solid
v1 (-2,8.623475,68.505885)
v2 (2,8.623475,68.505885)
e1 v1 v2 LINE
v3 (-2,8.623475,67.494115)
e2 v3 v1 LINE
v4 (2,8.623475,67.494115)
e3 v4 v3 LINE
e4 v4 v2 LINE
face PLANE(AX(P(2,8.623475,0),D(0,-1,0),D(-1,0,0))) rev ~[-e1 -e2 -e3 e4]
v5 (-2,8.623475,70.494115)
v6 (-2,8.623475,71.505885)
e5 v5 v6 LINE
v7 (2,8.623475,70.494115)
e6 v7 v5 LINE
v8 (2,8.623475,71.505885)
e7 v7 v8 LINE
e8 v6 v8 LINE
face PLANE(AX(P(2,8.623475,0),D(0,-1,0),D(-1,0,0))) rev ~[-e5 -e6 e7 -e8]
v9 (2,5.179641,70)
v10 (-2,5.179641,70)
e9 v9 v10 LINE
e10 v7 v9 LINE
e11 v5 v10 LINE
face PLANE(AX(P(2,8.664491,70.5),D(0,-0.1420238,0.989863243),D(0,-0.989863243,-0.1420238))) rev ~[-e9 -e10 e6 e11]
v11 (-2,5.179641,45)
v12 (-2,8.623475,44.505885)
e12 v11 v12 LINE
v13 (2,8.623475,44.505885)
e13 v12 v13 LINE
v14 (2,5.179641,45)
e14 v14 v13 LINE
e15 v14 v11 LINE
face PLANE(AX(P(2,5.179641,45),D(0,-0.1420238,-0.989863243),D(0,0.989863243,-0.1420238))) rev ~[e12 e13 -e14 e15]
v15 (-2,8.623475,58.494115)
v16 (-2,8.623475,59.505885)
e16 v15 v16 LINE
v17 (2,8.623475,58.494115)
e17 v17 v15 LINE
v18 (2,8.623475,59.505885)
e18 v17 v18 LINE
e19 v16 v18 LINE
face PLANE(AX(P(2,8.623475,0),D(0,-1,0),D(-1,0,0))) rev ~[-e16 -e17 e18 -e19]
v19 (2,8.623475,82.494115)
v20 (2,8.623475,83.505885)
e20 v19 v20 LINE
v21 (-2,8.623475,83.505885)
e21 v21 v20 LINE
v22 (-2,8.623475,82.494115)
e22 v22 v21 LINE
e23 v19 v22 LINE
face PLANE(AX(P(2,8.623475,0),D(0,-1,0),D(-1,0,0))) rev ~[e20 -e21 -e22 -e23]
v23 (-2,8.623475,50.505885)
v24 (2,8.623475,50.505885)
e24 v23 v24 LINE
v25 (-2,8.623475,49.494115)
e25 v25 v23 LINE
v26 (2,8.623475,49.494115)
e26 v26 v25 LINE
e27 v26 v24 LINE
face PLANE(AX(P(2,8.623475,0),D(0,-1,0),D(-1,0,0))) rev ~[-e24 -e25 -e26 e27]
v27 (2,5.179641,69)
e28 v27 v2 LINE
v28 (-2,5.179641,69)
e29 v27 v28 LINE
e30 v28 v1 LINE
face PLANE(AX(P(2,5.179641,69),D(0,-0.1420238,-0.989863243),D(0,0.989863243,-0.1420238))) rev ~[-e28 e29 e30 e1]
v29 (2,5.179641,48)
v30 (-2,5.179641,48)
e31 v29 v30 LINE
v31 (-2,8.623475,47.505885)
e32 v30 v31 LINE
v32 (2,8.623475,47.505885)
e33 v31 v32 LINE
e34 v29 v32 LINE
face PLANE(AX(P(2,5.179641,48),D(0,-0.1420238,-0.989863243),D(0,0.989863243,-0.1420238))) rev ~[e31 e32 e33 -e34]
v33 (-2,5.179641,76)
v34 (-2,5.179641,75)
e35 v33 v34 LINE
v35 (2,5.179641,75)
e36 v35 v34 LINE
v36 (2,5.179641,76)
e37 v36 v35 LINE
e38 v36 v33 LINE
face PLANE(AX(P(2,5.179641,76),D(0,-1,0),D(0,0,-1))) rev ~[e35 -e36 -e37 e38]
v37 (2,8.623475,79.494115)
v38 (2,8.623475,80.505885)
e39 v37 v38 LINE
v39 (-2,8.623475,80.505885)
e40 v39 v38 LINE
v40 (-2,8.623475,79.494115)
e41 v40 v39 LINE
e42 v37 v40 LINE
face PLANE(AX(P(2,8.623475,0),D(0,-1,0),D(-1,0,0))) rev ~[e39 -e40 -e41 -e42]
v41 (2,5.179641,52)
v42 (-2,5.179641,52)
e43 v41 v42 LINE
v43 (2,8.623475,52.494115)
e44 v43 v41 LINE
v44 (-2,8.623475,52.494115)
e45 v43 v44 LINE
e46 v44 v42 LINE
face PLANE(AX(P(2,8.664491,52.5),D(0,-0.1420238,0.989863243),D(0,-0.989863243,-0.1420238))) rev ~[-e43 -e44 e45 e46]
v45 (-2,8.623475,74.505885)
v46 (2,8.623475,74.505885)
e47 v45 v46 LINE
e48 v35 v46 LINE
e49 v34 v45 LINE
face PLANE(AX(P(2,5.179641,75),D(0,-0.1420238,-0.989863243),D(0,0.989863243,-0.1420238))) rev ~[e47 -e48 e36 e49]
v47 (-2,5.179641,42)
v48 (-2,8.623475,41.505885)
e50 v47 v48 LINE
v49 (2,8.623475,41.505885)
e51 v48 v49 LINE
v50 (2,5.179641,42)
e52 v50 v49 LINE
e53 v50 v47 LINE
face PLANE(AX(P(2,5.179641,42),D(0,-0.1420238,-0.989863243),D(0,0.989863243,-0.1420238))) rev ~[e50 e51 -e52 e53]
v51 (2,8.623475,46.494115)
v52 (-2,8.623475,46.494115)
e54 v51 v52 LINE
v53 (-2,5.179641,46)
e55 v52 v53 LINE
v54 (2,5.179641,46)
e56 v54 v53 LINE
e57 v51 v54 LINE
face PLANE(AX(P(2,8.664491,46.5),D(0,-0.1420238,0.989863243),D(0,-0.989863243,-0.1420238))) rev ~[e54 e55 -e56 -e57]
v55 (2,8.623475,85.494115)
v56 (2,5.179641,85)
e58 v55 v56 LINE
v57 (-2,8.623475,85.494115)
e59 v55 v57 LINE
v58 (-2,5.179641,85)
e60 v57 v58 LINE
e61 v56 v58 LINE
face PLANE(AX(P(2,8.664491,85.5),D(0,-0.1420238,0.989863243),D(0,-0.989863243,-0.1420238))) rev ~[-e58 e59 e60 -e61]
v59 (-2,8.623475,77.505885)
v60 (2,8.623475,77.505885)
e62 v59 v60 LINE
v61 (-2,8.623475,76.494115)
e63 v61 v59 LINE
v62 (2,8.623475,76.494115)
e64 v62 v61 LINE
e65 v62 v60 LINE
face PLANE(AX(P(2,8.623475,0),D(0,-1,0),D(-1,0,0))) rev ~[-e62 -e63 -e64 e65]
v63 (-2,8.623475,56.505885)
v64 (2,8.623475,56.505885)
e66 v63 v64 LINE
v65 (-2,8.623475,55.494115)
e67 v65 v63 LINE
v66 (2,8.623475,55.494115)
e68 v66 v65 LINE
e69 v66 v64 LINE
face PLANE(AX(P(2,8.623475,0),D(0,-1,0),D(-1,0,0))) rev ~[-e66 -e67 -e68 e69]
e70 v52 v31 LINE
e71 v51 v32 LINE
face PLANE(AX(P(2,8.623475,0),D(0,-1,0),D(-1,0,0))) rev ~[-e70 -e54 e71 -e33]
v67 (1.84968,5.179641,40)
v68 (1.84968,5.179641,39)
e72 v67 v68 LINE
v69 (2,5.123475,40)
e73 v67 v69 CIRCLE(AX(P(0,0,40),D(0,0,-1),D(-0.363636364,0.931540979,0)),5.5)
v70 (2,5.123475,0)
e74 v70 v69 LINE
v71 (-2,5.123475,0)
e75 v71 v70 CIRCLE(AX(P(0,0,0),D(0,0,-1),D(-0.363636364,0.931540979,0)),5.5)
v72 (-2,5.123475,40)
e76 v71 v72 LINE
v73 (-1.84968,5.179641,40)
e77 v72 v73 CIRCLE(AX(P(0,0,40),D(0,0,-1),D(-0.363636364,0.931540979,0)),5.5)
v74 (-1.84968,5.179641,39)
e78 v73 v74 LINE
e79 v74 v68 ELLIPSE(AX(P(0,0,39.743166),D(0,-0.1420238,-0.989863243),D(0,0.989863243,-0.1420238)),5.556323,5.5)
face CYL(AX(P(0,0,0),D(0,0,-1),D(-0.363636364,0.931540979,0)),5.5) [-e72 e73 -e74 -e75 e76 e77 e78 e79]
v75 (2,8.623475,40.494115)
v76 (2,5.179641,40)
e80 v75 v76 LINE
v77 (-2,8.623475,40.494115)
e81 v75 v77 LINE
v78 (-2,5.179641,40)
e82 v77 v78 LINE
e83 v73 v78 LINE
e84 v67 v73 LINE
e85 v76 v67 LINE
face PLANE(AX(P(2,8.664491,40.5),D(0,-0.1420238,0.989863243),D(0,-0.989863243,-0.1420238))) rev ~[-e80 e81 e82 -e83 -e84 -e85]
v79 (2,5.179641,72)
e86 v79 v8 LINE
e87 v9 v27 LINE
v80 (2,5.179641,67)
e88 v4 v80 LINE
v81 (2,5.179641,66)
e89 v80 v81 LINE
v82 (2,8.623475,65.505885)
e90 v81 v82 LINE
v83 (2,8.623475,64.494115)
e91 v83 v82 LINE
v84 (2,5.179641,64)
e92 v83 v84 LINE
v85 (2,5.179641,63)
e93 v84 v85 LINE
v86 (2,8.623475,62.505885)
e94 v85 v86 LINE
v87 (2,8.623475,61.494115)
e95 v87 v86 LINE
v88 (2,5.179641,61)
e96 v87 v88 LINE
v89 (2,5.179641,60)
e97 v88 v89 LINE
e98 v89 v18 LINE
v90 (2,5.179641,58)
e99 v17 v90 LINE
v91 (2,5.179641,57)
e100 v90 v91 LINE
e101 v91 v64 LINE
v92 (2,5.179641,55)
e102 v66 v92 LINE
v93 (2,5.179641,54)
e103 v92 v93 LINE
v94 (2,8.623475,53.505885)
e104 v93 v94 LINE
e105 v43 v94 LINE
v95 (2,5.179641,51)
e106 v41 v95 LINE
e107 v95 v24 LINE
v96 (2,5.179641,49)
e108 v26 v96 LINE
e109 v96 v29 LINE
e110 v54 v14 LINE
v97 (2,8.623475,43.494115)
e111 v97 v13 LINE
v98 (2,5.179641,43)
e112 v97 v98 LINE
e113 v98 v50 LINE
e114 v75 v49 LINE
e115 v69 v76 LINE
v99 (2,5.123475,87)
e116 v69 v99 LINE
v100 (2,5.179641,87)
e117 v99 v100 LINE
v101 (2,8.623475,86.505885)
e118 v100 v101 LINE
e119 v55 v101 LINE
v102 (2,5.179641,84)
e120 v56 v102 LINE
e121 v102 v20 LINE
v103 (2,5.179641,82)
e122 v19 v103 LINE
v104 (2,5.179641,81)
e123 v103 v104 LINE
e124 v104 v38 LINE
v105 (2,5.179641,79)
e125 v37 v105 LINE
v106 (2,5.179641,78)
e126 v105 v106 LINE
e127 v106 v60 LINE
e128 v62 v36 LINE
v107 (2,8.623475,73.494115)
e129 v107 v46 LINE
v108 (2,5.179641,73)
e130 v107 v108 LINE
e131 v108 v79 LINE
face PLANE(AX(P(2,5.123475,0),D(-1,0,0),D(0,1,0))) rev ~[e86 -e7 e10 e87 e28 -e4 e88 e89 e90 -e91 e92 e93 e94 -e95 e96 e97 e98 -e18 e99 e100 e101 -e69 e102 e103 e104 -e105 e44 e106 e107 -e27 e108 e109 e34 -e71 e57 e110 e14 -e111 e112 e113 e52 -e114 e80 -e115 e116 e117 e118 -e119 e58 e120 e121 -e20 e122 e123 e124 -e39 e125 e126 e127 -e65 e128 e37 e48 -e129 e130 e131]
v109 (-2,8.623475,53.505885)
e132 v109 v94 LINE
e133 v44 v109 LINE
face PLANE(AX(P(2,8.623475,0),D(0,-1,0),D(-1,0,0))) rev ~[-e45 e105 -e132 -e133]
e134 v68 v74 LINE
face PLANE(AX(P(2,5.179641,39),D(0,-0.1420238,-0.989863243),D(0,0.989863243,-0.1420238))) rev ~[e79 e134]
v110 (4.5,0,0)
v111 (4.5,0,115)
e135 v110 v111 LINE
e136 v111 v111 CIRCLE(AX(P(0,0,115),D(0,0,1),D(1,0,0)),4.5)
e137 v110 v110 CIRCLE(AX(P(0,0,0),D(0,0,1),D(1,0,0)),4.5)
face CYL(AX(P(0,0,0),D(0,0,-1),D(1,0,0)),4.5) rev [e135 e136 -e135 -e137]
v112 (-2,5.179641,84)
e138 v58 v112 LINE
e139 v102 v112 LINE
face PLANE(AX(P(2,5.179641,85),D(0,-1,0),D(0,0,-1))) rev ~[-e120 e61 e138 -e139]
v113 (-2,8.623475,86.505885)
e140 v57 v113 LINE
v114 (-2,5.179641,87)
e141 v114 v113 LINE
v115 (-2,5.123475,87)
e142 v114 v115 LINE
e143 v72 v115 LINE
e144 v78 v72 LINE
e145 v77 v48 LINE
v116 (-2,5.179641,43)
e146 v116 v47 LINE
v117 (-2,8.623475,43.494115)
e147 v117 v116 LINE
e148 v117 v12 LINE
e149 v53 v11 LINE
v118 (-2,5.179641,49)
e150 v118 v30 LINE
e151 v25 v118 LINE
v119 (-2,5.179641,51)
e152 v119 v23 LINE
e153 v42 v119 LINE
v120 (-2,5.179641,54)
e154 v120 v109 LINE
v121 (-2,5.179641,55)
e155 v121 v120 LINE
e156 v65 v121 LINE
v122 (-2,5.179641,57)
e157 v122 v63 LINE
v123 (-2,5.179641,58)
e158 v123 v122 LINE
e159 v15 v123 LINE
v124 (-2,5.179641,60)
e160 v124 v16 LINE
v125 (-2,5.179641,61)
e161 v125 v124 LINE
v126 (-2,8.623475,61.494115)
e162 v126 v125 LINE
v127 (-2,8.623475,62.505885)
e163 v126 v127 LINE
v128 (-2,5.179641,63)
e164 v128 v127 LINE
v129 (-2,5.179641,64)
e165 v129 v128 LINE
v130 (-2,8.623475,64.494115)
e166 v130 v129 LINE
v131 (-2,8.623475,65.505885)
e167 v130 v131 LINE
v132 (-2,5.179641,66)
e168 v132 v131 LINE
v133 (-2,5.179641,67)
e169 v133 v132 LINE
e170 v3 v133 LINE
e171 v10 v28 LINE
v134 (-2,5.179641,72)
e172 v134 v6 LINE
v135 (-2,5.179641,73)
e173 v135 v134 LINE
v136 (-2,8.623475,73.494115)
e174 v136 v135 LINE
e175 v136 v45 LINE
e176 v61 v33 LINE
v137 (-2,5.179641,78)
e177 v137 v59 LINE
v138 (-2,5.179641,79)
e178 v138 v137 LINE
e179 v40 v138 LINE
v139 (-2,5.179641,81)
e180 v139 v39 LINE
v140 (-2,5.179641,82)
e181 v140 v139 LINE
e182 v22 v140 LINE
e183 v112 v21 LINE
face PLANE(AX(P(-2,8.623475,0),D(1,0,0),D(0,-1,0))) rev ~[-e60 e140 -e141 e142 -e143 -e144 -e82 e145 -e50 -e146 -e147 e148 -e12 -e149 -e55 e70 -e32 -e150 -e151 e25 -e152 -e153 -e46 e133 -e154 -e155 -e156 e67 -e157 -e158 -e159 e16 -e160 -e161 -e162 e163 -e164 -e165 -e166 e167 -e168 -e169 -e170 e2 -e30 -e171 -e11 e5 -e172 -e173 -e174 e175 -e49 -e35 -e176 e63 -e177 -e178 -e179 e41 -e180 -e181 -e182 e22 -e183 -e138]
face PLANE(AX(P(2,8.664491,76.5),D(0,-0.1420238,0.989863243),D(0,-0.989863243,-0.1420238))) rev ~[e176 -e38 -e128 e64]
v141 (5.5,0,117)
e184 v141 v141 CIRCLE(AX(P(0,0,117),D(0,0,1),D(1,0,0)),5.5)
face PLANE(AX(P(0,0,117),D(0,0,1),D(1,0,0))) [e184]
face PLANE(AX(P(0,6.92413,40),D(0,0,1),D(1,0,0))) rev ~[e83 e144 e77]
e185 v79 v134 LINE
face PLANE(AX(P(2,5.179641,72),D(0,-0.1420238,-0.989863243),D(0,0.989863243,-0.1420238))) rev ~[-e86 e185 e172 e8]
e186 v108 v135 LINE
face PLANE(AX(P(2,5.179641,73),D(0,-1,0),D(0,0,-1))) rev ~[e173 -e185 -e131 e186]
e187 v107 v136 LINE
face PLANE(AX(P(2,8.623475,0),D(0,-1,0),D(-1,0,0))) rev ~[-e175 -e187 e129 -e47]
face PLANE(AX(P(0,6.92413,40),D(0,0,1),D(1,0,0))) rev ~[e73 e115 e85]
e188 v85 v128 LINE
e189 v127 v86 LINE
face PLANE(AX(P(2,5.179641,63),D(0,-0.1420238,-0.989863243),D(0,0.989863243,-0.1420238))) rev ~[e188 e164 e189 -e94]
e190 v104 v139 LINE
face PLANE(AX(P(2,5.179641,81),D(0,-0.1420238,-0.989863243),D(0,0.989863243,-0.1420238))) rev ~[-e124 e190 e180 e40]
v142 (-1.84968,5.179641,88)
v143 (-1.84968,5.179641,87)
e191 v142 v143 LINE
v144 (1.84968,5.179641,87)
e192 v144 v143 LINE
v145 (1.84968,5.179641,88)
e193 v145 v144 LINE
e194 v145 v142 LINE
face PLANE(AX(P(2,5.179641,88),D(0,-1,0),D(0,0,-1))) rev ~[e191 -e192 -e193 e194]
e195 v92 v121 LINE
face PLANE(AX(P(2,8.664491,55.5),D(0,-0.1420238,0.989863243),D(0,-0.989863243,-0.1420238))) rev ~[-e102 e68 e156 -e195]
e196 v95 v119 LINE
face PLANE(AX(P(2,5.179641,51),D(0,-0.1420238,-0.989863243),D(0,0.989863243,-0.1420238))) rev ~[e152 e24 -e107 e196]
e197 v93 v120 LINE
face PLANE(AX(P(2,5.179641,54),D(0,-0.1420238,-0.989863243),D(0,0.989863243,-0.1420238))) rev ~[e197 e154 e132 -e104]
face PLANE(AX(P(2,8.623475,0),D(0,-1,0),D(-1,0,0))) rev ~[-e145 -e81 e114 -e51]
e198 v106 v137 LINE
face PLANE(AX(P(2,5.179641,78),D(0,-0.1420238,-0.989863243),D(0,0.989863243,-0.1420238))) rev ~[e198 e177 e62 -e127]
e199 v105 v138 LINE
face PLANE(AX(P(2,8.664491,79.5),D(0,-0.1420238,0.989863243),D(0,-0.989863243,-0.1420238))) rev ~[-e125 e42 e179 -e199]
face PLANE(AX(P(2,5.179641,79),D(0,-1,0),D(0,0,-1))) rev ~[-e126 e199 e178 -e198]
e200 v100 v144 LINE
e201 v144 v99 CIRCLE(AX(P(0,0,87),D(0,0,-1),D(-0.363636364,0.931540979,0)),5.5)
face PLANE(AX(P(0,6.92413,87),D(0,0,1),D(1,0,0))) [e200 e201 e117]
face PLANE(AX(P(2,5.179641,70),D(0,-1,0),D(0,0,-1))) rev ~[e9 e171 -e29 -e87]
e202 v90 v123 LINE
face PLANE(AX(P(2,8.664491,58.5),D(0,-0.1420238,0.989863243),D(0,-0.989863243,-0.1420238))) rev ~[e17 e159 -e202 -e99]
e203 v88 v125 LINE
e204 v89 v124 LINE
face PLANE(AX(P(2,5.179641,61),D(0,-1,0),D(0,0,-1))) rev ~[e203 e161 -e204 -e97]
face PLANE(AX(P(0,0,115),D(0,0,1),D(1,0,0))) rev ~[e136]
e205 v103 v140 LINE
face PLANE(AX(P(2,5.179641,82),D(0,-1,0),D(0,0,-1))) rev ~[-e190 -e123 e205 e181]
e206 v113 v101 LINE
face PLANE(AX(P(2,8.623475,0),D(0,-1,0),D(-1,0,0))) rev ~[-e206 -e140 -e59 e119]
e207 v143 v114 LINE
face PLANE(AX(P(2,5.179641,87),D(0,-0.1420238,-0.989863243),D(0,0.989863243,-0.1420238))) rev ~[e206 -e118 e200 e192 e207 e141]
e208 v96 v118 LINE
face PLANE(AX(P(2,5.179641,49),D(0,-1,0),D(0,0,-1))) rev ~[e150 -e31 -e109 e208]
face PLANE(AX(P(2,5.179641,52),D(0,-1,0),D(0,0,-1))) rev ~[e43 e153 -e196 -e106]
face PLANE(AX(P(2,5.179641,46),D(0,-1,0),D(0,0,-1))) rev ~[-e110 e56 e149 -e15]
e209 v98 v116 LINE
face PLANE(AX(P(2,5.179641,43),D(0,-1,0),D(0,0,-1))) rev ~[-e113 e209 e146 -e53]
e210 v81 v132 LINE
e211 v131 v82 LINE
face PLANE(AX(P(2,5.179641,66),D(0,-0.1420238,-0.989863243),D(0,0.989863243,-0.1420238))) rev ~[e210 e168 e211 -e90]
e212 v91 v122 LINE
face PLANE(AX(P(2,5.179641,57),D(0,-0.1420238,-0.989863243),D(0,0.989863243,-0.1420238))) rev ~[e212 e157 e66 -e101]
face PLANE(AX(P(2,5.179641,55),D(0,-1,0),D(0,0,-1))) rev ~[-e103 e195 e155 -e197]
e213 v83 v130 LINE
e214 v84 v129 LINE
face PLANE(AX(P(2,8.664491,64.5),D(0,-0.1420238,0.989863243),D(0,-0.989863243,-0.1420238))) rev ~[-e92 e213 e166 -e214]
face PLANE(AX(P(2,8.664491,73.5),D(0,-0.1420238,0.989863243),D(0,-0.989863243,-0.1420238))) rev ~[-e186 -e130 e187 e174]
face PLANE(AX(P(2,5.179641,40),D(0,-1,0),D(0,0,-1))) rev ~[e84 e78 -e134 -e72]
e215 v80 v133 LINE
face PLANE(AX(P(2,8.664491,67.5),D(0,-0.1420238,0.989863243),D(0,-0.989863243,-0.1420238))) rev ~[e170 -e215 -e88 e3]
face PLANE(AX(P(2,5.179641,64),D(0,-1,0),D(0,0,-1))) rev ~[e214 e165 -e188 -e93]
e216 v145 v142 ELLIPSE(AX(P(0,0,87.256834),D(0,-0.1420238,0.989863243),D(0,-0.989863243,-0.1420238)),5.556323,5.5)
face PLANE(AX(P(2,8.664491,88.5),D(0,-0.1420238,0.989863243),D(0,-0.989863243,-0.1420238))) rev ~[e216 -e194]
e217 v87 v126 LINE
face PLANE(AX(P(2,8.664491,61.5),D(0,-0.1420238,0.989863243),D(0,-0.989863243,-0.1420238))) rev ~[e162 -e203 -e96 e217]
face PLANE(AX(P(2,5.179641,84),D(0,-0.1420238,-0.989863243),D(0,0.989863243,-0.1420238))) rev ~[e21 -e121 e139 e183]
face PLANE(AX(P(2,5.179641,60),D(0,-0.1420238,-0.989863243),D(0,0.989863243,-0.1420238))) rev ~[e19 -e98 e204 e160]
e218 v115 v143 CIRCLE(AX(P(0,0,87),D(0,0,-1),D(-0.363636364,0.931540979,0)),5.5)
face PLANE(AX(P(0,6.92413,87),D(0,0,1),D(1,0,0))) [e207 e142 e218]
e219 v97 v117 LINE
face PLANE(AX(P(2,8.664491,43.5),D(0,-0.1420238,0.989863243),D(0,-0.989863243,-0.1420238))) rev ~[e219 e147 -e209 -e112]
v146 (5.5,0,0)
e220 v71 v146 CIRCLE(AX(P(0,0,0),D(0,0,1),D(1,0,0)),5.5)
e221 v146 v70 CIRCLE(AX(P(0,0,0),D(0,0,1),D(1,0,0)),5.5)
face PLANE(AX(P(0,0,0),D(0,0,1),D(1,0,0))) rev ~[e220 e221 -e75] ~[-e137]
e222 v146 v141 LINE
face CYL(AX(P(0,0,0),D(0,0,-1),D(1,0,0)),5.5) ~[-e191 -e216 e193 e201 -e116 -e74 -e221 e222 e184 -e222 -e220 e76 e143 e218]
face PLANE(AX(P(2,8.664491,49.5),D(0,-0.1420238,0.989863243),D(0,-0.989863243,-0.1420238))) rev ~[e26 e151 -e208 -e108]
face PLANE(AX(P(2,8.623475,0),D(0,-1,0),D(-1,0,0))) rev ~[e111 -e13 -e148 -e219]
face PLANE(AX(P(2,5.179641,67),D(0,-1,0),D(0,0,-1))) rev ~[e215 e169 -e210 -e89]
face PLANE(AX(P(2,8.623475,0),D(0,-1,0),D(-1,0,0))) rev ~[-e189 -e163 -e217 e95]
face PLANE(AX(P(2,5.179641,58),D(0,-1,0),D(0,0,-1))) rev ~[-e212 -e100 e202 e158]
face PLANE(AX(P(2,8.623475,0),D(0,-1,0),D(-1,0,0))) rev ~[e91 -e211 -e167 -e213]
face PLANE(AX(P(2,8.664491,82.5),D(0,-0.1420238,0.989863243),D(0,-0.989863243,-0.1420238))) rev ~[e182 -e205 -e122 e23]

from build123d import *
from build123d.topology import SkipClean

# Parameters (mm, degrees)
SKETCH1_R           = 5.5
BOSS_EXTRUDE3_DEPTH = 117
SKETCH1_3_R         = 4.5
CUT_EXTRUDE4_DEPTH  = 115
BOSS_EXTRUDE4_DEPTH = 87
CUT_EXTRUDE5_DEPTH  = 40
CUT_EXTRUDE6_DEPTH  = 4


with BuildPart() as part:
    # Sketch1 → Boss-Extrude3 (new body)
    with BuildSketch(Plane.XY):
        Circle(SKETCH1_R)
    extrude(amount=BOSS_EXTRUDE3_DEPTH)

    # Sketch1<3> → Cut-Extrude4 (cut)
    with BuildSketch(Plane.XY):
        Circle(SKETCH1_3_R)
    extrude(amount=CUT_EXTRUDE4_DEPTH, mode=Mode.SUBTRACT)

    # Sketch1<4> → Boss-Extrude4 (add)
    with BuildSketch(Plane.XY):
        with BuildLine():
            Line((2, 8.623475383), (-2, 8.623475383))
            Line((-2, 8.623475383), (-2, 5.123475383))
            ThreePointArc((-2, 5.123475383), (0, 5.5), (2, 5.123475383))
            Line((2, 5.123475383), (2, 8.623475383))
        make_face()
    extrude(amount=BOSS_EXTRUDE4_DEPTH)

    # Sketch1<5> → Cut-Extrude5 (cut)
    with SkipClean():  # the faces are left unmerged after this step: merging them gives an invalid solid
        with BuildSketch(Plane.XY):
            with BuildLine():
                Line((2, 8.623475383), (-2, 8.623475383))
                Line((-2, 8.623475383), (-2, 5.123475383))
                ThreePointArc((-2, 5.123475383), (0, 5.5), (2, 5.123475383))
                Line((2, 5.123475383), (2, 8.623475383))
            make_face()
        extrude(amount=CUT_EXTRUDE5_DEPTH, mode=Mode.SUBTRACT)

    # Sketch11 → Cut-Extrude6 (cut)
    with SkipClean():  # the faces are left unmerged after this step: merging them gives an invalid solid
        with BuildSketch(Plane(origin=(2, 0, 0), x_dir=(0, 0, -1), z_dir=(1, 0, 0))):
            Polygon((-62.5, 8.664491245), (-64.5, 8.664491245), (-64, 5.179641377), (-63, 5.179641377), align=None)
            Polygon((-59.5, 8.664491245), (-61.5, 8.664491245), (-61, 5.179641377), (-60, 5.179641377), align=None)
            Polygon((-56.5, 8.664491245), (-58.5, 8.664491245), (-58, 5.179641377), (-57, 5.179641377), align=None)
            Polygon((-53.5, 8.664491245), (-55.5, 8.664491245), (-55, 5.179641377), (-54, 5.179641377), align=None)
            Polygon((-50.5, 8.664491245), (-52.5, 8.664491245), (-52, 5.179641377), (-51, 5.179641377), align=None)
            Polygon((-47.5, 8.664491245), (-49.5, 8.664491245), (-49, 5.179641377), (-48, 5.179641377), align=None)
            Polygon((-44.5, 8.664491245), (-46.5, 8.664491245), (-46, 5.179641377), (-45, 5.179641377), align=None)
            Polygon((-41.5, 8.664491245), (-43.5, 8.664491245), (-43, 5.179641377), (-42, 5.179641377), align=None)
            Polygon((-38.5, 8.664491245), (-40.5, 8.664491245), (-40, 5.179641377), (-39, 5.179641377), align=None)
            Polygon((-65.5, 8.664491245), (-67.5, 8.664491245), (-67, 5.179641377), (-66, 5.179641377), align=None)
            Polygon((-68.5, 8.664491245), (-70.5, 8.664491245), (-70, 5.179641377), (-69, 5.179641377), align=None)
            Polygon((-71.5, 8.664491245), (-73.5, 8.664491245), (-73, 5.179641377), (-72, 5.179641377), align=None)
            Polygon((-74.5, 8.664491245), (-76.5, 8.664491245), (-76, 5.179641377), (-75, 5.179641377), align=None)
            Polygon((-77.5, 8.664491245), (-79.5, 8.664491245), (-79, 5.179641377), (-78, 5.179641377), align=None)
            Polygon((-80.5, 8.664491245), (-82.5, 8.664491245), (-82, 5.179641377), (-81, 5.179641377), align=None)
            Polygon((-83.5, 8.664491245), (-85.5, 8.664491245), (-85, 5.179641377), (-84, 5.179641377), align=None)
            Polygon((-86.5, 8.664491245), (-88.5, 8.664491245), (-88, 5.179641377), (-87, 5.179641377), align=None)
        extrude(amount=-CUT_EXTRUDE6_DEPTH, mode=Mode.SUBTRACT)


solid = part.part
